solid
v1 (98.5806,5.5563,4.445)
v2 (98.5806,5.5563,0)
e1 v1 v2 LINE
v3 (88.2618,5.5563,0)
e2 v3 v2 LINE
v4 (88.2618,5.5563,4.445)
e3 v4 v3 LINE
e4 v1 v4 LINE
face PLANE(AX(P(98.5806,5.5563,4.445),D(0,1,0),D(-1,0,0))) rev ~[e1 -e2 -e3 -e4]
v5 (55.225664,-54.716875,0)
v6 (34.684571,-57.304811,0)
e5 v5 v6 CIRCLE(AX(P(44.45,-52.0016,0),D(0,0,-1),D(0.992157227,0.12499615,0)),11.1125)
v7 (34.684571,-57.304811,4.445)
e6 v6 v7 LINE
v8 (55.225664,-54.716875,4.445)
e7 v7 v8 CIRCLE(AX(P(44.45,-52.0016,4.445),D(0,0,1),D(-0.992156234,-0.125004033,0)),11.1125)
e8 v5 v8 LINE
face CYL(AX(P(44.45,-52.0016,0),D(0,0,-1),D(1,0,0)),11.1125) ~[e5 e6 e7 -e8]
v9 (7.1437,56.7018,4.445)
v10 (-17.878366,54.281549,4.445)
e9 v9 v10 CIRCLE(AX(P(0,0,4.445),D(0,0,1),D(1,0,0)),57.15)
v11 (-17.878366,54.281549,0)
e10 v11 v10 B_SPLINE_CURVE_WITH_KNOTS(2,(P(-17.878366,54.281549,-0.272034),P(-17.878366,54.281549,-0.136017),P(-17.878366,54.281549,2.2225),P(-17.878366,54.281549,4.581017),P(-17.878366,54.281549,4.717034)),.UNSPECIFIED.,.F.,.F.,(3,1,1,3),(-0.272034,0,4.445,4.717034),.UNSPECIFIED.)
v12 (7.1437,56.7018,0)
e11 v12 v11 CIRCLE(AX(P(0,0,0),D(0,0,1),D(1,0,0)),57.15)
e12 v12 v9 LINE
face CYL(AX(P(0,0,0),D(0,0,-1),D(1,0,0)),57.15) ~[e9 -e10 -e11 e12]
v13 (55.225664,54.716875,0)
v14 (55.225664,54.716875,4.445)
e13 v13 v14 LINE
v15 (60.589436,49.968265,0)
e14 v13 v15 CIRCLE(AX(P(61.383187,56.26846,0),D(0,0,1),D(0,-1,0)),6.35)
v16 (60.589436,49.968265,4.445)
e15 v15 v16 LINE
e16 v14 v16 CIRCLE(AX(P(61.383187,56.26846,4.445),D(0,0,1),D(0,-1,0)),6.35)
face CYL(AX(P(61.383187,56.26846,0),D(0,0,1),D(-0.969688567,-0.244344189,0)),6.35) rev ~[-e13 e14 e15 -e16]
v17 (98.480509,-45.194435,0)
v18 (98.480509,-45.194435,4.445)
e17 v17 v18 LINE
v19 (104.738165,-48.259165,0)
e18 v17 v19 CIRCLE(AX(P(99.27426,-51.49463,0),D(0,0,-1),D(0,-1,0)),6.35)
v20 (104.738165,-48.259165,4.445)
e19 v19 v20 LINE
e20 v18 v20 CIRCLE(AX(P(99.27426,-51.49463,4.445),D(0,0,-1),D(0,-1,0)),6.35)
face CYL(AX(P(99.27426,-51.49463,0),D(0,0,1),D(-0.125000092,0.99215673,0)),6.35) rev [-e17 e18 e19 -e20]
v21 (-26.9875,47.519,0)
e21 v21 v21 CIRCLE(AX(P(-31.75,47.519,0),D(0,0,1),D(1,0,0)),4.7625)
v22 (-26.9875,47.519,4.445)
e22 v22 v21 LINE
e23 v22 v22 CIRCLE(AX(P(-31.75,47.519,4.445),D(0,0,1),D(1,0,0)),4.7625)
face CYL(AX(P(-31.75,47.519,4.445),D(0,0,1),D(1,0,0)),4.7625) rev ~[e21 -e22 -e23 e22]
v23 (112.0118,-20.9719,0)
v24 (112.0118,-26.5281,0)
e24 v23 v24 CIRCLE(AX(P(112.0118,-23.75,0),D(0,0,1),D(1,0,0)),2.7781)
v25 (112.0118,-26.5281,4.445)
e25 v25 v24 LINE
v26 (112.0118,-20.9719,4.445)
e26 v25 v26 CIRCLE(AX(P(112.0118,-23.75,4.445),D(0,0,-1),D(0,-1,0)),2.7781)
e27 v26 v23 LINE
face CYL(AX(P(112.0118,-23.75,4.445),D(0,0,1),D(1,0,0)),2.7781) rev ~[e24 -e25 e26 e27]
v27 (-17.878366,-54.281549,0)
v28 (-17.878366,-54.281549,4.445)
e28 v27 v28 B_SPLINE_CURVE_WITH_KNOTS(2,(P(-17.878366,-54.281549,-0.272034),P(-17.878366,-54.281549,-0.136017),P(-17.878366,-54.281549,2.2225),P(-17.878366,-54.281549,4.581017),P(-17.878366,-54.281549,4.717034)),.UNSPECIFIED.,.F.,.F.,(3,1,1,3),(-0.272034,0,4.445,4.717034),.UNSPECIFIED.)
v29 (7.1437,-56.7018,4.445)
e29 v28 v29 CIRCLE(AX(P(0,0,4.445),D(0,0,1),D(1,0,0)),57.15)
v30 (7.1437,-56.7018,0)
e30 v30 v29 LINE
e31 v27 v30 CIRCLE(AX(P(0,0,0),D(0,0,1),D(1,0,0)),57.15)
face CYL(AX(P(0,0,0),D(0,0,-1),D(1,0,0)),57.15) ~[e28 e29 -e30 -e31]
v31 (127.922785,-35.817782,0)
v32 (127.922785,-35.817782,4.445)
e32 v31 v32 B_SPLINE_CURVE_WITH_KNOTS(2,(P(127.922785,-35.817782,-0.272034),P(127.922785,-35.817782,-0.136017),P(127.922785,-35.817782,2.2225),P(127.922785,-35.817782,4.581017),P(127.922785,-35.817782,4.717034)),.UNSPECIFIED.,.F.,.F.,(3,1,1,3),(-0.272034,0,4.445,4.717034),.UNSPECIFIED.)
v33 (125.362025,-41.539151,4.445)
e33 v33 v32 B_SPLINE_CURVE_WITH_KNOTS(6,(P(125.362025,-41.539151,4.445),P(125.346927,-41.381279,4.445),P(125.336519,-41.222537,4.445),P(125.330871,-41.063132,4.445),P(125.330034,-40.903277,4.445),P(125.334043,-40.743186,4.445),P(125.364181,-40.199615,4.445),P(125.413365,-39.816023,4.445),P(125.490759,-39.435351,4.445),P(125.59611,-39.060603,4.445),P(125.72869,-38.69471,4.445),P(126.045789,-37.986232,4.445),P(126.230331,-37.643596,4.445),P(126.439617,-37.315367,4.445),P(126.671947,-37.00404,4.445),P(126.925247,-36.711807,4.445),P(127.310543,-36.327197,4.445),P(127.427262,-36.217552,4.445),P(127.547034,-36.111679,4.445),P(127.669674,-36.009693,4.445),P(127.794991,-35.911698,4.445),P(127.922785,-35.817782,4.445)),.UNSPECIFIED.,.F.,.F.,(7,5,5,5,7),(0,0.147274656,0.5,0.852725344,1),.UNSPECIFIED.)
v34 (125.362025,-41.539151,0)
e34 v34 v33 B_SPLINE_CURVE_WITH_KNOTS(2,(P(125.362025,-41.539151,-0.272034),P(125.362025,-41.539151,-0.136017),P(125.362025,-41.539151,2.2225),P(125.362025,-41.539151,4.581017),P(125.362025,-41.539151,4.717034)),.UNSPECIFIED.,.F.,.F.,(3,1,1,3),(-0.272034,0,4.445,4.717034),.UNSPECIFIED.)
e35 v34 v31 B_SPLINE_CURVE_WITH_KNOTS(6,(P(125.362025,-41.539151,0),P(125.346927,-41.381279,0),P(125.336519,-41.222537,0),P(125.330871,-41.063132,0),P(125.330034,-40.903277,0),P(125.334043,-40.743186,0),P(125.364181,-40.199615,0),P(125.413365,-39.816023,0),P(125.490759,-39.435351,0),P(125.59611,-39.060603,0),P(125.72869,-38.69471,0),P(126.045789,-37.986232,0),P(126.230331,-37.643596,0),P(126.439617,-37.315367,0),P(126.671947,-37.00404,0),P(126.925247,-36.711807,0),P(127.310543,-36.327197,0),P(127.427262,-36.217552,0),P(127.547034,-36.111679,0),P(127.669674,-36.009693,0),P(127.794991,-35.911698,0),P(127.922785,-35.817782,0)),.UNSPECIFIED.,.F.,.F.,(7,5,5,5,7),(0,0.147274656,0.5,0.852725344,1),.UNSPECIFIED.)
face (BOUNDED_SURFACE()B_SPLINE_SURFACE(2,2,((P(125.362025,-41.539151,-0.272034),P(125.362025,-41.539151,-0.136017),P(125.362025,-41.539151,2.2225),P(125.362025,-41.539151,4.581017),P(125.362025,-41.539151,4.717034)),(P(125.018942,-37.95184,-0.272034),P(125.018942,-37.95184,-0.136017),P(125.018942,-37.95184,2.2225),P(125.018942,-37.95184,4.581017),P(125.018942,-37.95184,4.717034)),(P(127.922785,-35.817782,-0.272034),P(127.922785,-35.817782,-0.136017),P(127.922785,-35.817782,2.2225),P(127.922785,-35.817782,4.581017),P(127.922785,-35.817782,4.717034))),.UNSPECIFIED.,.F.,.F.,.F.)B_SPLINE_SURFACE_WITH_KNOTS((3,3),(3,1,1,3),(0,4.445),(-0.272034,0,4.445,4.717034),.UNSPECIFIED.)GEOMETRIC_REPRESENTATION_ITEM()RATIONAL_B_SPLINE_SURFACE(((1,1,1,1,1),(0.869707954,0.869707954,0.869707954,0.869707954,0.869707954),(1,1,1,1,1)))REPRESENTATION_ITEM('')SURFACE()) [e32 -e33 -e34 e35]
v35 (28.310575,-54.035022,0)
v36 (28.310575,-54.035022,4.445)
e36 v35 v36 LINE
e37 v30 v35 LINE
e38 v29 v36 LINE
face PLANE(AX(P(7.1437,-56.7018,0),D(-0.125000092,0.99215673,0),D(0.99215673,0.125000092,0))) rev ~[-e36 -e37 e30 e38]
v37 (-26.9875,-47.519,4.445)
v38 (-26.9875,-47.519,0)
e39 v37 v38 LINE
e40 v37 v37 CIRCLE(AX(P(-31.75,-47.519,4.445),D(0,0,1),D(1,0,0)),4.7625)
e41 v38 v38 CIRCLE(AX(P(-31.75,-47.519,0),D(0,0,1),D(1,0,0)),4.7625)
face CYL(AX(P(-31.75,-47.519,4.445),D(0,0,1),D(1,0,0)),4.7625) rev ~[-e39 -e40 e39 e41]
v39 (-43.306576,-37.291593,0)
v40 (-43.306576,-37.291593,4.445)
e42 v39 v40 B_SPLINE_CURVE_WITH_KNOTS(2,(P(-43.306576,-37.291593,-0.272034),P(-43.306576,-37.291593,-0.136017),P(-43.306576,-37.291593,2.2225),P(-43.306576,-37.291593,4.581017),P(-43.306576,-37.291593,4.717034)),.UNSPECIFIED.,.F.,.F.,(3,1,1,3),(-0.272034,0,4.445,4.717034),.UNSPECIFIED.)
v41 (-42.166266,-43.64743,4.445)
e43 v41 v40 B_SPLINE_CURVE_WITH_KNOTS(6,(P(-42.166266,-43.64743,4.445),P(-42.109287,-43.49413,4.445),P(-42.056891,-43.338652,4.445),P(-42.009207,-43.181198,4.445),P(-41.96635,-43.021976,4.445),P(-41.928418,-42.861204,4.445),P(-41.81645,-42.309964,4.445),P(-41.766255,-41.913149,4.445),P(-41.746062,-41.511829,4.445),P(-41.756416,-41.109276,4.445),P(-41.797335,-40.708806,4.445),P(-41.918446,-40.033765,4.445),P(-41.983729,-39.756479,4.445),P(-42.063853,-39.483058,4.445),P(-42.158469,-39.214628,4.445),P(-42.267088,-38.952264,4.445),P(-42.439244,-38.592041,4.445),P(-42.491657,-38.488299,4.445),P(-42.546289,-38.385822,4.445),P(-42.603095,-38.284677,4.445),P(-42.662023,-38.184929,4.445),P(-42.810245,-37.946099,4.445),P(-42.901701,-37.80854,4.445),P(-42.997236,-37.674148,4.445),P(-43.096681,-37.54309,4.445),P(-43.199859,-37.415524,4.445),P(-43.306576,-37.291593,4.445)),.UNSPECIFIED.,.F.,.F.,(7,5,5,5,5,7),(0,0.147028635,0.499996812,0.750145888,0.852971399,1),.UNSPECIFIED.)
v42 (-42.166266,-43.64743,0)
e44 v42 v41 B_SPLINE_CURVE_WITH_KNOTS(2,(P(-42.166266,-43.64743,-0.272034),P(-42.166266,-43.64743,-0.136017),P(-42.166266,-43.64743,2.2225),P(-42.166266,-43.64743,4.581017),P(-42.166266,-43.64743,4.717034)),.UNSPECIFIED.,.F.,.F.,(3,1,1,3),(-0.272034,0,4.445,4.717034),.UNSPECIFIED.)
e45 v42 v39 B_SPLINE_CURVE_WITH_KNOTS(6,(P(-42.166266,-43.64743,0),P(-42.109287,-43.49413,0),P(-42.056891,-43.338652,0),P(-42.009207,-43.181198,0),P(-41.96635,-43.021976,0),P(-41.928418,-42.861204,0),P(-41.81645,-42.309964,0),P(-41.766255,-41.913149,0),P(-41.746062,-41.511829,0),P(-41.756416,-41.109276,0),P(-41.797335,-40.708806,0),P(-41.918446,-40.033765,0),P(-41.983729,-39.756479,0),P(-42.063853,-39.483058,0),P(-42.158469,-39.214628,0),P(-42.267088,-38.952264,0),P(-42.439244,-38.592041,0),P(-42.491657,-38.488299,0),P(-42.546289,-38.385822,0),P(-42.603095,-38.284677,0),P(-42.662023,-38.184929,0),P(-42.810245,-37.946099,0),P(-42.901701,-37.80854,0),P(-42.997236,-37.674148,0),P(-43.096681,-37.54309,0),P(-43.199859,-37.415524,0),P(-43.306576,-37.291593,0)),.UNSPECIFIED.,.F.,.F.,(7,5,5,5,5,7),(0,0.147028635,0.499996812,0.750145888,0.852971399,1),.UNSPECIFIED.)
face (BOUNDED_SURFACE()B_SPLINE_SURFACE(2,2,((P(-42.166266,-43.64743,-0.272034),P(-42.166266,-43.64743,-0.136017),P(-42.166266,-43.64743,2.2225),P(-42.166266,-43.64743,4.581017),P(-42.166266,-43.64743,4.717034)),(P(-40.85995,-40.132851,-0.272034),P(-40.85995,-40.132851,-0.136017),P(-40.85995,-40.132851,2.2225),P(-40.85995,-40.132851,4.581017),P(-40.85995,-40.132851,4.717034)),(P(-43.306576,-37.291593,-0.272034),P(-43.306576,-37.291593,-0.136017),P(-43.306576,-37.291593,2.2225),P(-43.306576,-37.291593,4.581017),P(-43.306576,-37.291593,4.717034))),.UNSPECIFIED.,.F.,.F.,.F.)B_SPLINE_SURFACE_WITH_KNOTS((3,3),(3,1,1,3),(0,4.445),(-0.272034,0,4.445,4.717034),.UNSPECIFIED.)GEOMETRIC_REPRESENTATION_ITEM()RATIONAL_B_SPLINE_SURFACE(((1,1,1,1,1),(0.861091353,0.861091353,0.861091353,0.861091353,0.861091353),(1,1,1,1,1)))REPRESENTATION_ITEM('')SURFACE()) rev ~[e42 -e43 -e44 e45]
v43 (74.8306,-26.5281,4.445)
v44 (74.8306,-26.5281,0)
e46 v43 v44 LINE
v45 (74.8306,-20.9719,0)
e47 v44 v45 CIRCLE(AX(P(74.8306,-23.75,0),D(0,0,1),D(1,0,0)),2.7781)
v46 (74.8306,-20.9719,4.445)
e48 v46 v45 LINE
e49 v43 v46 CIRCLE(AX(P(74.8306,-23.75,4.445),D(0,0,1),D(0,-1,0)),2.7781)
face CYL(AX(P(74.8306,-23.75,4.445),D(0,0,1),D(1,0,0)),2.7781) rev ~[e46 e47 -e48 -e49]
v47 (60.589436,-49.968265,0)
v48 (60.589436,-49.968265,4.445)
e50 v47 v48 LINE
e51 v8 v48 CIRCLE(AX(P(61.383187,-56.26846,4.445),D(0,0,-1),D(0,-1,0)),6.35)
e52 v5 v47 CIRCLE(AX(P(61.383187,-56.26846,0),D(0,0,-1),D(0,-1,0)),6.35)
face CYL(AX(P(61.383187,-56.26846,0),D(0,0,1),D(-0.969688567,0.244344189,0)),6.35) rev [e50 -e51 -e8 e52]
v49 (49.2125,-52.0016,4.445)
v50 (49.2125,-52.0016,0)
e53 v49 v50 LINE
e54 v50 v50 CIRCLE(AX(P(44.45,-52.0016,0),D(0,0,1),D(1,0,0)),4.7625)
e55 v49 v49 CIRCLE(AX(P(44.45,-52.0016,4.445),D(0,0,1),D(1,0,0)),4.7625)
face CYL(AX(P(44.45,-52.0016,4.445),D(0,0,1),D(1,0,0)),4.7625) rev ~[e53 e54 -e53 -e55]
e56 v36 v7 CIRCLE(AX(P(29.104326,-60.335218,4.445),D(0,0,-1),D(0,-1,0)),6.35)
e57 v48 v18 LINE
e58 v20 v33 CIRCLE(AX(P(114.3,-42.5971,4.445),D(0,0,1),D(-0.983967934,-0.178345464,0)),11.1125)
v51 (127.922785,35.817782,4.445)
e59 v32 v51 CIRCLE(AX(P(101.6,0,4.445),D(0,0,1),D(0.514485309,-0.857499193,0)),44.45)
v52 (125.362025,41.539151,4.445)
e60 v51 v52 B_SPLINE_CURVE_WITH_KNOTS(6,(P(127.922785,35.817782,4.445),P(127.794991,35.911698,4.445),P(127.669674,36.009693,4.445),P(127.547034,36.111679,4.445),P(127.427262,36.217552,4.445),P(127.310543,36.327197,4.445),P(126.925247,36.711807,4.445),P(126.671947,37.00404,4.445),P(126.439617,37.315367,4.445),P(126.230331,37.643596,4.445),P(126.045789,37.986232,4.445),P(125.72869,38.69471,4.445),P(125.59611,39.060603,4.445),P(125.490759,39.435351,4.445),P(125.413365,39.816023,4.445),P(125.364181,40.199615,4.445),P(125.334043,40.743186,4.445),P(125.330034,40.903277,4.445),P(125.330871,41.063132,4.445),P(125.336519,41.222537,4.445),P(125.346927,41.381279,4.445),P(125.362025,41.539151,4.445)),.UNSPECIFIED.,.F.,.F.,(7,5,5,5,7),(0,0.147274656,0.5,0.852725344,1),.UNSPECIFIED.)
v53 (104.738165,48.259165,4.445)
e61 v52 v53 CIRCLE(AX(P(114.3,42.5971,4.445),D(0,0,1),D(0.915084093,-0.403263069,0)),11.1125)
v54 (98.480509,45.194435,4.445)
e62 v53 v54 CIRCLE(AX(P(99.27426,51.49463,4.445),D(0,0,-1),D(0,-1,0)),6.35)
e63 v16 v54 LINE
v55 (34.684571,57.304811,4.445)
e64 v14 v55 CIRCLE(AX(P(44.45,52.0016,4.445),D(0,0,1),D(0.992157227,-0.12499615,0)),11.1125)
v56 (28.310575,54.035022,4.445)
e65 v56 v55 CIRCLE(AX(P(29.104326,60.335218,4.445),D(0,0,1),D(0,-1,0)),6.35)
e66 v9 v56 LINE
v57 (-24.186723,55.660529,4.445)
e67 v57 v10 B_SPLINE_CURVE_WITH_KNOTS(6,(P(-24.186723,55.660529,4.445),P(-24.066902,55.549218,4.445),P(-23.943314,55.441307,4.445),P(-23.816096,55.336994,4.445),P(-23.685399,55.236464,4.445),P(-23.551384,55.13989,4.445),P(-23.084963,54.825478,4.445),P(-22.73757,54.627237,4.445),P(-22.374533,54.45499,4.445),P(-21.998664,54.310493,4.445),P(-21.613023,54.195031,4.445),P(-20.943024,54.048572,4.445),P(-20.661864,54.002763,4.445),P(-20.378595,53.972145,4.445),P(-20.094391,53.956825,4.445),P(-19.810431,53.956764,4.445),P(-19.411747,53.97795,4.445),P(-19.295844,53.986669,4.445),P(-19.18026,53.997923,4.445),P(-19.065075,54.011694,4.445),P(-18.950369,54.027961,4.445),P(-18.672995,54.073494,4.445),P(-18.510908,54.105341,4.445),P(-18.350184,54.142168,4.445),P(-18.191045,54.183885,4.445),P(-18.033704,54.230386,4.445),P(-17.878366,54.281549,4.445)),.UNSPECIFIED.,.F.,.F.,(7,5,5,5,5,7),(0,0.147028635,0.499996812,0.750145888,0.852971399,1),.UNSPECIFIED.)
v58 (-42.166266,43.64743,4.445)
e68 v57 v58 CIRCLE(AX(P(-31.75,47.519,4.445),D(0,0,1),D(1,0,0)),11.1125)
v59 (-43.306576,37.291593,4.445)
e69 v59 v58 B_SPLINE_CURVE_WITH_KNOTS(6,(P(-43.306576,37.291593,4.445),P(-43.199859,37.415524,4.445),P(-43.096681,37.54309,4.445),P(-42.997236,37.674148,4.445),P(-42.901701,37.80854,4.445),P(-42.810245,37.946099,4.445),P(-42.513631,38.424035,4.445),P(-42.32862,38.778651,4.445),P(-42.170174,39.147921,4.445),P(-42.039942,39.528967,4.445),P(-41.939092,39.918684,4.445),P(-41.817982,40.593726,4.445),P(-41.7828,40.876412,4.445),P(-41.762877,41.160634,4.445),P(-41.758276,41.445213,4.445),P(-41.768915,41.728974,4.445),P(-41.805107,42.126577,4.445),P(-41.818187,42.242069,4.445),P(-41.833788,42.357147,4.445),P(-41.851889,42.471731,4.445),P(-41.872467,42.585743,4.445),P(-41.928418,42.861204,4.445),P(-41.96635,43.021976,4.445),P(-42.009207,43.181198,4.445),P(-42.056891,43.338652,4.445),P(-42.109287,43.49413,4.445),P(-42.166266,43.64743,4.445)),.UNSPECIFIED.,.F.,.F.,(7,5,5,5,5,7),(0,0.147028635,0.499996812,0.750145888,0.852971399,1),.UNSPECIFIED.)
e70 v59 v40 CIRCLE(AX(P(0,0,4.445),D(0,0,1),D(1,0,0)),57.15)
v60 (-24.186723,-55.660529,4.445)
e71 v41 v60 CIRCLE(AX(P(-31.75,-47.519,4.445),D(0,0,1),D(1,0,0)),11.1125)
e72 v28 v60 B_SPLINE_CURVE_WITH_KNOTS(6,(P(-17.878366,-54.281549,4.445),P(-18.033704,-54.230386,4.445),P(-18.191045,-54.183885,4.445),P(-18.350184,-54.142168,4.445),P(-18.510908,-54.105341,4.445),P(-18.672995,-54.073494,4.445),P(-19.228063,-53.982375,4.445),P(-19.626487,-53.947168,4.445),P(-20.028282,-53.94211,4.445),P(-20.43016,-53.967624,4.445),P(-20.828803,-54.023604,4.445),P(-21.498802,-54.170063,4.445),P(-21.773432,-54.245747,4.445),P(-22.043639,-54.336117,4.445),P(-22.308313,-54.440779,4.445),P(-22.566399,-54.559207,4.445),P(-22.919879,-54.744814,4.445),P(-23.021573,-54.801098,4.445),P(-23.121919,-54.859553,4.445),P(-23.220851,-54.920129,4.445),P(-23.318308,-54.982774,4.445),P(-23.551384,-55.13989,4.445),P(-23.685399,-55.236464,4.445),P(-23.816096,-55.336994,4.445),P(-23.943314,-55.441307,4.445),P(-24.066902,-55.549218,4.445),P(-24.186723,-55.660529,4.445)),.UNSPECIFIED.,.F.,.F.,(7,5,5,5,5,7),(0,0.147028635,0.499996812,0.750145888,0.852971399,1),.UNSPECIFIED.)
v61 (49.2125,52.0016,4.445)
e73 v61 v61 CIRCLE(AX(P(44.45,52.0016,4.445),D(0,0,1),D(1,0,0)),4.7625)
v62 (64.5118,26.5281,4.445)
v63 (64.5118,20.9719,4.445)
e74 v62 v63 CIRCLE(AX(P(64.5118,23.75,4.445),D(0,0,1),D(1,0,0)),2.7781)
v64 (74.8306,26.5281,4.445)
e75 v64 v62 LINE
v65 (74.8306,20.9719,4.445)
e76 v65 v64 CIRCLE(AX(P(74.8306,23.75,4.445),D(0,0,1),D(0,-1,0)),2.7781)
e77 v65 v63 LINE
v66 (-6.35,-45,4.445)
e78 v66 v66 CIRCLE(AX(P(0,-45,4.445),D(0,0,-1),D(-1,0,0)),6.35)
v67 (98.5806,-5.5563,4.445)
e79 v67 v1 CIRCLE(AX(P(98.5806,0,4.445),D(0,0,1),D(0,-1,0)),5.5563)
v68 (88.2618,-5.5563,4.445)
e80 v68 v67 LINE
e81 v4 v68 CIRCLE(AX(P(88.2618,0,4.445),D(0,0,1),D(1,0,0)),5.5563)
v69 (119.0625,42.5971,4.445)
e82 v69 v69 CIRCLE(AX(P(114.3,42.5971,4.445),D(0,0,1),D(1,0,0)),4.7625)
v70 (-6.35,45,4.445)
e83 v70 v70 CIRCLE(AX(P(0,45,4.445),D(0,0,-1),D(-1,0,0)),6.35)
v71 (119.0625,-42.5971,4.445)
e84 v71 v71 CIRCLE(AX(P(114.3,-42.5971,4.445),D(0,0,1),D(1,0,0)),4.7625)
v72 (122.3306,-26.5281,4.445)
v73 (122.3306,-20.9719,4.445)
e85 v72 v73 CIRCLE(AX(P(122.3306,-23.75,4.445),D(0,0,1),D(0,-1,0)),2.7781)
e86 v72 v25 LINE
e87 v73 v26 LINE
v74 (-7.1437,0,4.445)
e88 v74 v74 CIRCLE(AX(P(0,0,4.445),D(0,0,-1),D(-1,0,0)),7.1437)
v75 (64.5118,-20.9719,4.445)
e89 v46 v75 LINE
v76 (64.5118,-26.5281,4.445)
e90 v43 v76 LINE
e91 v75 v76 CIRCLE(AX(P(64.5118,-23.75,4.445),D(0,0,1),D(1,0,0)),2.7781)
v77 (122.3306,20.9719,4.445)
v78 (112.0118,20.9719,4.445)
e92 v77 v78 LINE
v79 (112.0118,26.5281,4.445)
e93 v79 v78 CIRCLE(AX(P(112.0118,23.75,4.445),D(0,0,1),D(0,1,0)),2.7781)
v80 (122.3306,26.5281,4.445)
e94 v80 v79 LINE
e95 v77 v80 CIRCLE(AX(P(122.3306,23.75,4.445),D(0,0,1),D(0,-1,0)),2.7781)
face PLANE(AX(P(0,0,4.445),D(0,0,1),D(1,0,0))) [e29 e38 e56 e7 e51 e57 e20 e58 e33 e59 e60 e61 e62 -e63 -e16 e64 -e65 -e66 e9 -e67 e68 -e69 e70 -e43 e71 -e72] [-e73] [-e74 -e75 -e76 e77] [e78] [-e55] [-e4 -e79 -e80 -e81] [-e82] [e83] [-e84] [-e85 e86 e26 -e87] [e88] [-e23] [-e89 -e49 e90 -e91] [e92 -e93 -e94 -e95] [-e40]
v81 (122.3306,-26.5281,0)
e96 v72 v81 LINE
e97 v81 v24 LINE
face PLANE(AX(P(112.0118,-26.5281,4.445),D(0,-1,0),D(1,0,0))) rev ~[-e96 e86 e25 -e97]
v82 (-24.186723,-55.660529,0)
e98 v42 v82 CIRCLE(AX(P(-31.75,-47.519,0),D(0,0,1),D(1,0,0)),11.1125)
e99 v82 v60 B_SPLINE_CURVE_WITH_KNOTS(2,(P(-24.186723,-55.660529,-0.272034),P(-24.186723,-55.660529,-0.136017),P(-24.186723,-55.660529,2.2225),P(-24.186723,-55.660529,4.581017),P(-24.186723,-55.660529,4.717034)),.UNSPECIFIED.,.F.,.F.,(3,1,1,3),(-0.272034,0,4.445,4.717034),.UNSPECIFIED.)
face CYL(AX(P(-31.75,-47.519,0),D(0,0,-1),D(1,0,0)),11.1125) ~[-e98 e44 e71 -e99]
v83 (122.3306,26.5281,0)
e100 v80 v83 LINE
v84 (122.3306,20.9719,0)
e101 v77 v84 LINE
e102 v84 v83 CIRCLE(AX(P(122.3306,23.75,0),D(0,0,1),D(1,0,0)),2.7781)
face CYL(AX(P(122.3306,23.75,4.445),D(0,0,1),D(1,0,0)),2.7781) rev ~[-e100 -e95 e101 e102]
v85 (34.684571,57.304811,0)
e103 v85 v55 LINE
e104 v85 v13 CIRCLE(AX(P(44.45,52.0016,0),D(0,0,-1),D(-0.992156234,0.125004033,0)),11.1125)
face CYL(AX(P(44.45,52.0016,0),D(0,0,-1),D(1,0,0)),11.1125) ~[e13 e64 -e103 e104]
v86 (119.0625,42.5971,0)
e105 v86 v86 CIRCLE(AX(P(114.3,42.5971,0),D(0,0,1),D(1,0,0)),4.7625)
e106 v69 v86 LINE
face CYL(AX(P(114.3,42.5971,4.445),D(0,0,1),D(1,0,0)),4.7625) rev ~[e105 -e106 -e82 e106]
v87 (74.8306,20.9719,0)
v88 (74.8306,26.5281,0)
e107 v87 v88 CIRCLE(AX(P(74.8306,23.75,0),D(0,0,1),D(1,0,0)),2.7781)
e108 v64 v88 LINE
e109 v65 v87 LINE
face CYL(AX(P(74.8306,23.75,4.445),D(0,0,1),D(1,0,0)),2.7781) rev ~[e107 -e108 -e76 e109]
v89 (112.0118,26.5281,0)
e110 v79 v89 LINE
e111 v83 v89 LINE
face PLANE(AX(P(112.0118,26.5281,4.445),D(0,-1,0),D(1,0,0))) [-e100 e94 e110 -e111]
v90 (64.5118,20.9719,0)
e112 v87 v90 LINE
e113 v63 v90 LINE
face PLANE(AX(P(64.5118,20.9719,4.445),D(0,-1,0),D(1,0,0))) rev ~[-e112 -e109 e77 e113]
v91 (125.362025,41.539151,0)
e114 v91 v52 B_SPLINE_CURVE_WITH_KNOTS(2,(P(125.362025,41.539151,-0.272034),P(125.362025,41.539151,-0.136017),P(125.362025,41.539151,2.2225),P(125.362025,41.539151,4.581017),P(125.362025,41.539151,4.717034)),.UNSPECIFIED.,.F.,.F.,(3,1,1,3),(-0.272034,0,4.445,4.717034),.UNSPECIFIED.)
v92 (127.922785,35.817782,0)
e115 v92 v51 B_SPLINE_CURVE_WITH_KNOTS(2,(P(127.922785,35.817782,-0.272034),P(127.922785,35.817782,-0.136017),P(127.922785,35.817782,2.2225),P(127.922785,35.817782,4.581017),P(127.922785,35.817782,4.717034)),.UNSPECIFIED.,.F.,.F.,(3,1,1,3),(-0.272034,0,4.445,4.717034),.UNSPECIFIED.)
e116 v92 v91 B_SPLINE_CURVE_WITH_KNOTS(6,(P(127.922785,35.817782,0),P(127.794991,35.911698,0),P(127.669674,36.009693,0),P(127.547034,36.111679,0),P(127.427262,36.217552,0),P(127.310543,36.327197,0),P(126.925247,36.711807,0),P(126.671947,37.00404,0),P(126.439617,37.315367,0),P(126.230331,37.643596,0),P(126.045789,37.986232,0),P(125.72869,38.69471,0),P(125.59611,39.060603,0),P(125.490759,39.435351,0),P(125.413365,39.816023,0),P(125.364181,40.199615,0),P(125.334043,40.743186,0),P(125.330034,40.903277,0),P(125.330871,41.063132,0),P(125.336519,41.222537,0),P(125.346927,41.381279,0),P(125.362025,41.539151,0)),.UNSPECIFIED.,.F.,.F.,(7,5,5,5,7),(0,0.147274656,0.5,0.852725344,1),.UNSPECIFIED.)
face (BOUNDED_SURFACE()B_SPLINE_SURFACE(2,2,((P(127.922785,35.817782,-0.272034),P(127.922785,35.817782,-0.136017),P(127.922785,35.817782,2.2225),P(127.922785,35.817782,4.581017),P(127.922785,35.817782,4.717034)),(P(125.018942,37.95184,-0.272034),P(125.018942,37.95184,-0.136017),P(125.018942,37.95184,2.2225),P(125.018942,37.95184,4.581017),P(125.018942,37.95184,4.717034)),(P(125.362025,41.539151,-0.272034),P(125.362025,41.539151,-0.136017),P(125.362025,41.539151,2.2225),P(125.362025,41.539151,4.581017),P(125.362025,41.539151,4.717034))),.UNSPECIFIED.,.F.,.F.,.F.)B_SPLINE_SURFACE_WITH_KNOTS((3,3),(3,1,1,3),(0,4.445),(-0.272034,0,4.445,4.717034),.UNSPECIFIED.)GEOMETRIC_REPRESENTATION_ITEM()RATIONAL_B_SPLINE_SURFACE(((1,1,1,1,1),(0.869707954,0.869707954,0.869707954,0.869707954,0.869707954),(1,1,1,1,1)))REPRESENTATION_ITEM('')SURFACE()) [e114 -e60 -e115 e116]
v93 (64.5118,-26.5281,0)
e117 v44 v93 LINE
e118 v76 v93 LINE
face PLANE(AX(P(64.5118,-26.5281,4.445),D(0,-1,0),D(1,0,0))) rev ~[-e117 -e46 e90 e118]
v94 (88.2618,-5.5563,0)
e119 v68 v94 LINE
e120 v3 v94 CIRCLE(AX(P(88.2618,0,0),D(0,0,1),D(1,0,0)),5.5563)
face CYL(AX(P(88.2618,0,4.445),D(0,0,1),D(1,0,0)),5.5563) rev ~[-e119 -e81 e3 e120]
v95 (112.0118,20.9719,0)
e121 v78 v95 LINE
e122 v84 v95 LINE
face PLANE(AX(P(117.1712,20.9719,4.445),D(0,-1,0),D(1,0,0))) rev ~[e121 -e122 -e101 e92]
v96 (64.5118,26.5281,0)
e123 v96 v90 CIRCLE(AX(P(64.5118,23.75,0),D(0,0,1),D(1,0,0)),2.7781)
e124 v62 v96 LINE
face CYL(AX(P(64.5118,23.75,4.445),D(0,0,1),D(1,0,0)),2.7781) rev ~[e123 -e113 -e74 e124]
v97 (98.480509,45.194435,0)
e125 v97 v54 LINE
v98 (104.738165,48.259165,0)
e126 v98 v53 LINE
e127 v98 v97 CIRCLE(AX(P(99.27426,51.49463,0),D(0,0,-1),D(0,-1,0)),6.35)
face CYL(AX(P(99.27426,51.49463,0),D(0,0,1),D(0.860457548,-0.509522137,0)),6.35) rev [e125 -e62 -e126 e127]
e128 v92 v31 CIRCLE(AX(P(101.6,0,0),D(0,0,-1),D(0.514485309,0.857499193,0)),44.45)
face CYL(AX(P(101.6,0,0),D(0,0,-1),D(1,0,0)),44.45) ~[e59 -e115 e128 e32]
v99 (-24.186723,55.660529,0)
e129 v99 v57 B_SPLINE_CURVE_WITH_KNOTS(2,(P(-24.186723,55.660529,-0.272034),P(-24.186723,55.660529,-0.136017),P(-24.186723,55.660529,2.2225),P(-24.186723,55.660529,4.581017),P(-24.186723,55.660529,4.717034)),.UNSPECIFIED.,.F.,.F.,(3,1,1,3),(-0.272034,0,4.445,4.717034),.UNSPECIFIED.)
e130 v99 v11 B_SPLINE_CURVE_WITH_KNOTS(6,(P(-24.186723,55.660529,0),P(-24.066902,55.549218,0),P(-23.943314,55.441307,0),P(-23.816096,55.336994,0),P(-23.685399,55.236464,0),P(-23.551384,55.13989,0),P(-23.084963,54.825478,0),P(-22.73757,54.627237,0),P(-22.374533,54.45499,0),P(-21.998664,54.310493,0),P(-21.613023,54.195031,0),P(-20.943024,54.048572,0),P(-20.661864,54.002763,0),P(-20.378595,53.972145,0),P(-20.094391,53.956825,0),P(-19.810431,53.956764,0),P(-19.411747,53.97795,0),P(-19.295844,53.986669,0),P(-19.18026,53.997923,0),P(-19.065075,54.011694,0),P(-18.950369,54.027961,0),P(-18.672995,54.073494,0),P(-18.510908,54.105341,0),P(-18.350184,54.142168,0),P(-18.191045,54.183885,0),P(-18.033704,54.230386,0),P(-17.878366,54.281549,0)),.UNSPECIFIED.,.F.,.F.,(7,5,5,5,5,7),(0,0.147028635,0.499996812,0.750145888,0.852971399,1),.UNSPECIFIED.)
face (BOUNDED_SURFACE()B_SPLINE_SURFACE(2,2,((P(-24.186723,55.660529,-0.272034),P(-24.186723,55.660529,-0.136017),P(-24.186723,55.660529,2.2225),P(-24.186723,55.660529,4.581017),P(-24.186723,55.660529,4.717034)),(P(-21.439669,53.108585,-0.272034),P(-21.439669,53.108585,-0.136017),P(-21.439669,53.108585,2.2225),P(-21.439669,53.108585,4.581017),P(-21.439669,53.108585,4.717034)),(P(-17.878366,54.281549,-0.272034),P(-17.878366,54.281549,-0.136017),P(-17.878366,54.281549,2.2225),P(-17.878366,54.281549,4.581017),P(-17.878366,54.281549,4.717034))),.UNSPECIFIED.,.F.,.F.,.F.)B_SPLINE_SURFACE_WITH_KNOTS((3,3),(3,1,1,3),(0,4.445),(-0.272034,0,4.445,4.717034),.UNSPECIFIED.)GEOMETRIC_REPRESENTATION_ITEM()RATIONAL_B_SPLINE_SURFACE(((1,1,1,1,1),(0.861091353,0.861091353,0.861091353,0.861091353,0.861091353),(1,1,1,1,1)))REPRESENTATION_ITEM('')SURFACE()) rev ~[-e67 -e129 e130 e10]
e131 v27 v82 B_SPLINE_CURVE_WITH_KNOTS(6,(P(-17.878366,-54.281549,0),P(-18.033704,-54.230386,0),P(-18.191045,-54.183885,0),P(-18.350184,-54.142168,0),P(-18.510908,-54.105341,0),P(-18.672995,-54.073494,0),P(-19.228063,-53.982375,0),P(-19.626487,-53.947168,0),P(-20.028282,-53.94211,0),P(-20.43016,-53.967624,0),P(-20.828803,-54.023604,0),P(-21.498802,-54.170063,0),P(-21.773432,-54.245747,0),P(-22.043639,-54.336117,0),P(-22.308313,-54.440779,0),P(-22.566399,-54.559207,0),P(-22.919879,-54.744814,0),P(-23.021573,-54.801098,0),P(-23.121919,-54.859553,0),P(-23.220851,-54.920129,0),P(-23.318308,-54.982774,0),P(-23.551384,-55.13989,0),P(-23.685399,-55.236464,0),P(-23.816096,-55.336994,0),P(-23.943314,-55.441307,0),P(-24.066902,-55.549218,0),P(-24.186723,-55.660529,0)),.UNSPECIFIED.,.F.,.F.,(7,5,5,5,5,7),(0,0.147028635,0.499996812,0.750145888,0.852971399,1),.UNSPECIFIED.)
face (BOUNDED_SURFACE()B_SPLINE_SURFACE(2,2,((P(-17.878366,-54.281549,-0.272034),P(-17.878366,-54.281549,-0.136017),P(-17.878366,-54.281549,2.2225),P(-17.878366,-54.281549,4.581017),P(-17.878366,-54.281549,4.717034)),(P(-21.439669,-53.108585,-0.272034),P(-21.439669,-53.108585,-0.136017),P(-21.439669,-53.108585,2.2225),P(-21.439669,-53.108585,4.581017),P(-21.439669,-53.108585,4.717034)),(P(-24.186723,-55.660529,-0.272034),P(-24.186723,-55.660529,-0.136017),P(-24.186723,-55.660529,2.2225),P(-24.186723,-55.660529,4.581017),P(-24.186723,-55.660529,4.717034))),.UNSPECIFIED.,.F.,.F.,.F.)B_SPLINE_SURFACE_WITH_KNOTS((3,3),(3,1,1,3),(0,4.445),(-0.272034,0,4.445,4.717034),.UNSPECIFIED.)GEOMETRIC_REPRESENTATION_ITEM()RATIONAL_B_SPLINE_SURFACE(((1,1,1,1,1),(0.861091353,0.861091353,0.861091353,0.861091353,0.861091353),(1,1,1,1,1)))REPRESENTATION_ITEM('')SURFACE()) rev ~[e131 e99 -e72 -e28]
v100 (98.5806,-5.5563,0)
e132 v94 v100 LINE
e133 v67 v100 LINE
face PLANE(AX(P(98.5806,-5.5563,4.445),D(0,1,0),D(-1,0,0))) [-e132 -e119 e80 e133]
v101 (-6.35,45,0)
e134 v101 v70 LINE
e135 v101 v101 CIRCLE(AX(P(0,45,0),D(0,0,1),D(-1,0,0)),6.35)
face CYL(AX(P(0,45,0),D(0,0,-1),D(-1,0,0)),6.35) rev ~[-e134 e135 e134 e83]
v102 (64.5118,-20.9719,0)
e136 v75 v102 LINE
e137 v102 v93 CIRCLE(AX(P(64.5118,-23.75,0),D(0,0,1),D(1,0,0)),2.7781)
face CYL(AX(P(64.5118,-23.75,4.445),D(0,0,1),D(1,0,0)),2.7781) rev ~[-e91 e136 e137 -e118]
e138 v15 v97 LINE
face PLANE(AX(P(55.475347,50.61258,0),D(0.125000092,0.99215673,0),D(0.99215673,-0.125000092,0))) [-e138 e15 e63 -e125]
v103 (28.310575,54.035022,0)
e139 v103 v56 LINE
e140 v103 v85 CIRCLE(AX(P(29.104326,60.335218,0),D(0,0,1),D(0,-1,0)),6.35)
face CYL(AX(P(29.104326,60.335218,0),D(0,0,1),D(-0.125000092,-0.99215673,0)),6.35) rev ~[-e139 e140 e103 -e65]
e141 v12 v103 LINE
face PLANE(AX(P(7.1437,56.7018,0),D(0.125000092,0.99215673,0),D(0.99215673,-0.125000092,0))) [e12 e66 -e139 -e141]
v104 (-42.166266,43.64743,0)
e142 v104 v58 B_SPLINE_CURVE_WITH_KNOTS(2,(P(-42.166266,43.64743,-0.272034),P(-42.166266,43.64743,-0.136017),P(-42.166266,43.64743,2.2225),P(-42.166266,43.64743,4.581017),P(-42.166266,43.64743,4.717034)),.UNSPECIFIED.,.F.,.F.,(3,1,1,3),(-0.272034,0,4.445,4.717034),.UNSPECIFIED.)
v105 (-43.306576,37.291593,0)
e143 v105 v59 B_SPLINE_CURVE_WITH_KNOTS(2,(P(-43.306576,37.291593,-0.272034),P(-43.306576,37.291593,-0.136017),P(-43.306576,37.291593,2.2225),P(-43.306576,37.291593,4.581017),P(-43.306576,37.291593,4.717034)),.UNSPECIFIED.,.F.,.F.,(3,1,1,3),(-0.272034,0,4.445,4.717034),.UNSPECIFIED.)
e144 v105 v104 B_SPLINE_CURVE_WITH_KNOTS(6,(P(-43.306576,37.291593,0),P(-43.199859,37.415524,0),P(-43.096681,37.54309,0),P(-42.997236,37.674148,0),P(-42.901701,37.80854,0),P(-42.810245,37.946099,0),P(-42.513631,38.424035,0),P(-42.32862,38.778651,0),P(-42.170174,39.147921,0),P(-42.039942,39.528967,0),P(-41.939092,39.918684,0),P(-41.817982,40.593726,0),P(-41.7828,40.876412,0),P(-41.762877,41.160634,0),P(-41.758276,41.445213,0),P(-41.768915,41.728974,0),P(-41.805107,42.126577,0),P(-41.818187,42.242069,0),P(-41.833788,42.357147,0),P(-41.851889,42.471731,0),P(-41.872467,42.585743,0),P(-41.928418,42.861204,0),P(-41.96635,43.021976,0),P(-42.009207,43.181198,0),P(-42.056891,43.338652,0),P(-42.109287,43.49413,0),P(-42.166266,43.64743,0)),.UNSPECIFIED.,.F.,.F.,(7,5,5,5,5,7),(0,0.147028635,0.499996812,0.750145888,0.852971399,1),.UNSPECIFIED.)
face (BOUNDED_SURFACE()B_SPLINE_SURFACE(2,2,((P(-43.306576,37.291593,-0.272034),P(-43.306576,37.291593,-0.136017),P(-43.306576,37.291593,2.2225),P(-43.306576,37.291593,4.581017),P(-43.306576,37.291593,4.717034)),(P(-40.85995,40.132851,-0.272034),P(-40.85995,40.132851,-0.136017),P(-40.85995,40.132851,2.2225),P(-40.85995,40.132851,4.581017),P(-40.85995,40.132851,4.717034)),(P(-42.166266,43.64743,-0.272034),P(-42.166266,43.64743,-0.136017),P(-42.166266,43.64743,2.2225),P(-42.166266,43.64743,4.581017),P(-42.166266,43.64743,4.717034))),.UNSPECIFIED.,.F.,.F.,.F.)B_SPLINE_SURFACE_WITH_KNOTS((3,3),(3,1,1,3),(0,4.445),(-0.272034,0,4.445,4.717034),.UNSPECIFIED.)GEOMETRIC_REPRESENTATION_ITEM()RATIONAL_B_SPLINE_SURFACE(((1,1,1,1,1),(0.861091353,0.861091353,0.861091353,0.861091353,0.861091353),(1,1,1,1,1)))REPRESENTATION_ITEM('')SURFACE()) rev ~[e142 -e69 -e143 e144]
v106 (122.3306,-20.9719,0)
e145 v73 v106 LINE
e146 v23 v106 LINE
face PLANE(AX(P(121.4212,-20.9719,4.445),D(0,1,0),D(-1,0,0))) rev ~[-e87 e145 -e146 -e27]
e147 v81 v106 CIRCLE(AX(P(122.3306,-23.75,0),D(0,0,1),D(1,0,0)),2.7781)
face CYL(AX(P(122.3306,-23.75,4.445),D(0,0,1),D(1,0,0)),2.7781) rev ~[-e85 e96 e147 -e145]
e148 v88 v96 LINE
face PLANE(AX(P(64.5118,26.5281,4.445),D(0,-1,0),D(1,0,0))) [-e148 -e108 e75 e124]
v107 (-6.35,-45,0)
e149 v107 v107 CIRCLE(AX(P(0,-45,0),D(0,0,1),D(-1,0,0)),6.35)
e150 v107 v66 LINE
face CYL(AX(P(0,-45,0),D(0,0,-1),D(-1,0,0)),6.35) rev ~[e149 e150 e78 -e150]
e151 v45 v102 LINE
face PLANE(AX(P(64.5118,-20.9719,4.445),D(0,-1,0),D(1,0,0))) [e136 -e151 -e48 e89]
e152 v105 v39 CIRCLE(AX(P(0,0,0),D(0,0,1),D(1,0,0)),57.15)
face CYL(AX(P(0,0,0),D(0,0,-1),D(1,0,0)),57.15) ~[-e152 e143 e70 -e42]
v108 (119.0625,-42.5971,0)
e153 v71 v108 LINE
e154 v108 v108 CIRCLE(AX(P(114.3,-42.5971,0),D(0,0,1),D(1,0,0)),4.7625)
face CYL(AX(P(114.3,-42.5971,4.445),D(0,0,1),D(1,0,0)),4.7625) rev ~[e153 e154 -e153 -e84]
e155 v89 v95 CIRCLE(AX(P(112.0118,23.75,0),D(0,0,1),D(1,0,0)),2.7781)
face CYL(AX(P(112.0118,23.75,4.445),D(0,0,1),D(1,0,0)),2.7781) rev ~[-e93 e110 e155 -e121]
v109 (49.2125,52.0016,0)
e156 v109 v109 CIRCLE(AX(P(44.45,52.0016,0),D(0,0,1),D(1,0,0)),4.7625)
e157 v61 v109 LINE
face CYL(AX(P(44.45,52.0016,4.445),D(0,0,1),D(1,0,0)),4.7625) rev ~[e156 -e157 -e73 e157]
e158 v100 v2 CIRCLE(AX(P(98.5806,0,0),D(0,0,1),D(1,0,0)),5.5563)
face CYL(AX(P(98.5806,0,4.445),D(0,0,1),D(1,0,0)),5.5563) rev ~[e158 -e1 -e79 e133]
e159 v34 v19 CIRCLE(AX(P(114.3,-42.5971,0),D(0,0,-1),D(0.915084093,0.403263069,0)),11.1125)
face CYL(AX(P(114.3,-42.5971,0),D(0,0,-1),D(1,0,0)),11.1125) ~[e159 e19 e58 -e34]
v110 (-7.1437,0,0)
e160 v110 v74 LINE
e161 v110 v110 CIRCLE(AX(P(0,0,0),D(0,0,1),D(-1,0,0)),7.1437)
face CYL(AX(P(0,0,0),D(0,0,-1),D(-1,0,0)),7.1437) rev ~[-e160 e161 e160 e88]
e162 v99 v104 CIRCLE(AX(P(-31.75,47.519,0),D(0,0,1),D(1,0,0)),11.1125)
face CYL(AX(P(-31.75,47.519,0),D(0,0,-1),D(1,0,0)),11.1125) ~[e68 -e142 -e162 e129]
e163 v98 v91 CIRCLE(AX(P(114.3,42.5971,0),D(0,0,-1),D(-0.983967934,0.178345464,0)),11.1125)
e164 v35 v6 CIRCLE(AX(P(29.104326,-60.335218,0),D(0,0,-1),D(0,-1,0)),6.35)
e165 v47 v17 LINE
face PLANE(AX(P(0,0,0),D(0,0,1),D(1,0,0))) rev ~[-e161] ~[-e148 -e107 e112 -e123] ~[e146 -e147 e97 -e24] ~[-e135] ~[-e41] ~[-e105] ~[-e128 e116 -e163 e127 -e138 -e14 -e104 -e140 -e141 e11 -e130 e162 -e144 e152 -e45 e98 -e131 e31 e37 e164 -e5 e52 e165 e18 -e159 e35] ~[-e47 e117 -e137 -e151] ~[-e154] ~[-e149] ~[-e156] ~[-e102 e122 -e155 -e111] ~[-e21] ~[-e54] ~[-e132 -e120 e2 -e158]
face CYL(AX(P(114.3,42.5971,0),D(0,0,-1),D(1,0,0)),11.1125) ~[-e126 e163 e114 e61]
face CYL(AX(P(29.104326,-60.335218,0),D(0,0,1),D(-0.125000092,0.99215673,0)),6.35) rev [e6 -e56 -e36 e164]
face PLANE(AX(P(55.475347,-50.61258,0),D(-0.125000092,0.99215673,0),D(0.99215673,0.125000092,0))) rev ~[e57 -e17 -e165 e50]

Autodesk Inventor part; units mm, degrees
ref_plane "YZ Plane" through (0, 0, 0) normal (1, 0, 0) x (0, 1, 0)
ref_plane "XZ Plane" through (0, 0, 0) normal (0, 1, 0) x (-1, 0, 0)
ref_plane "XY Plane" through (0, 0, 0) normal (0, 0, 1) x (1, 0, 0)
sketch "Boceto1" plane through (0, 0, 0) normal (0, 0, 1) x (1, 0, 0)
  circle A0 centre (0, 0) radius 57.15
  circle A1 centre (101.6, 0) radius 44.45
  circle A2 centre (-31.75, 47.519) radius 11.1125
  circle A3 centre (-31.75, -47.519) radius 11.1125
  circle A4 centre (114.3, 42.5971) radius 11.1125
  circle A5 centre (114.3, -42.5971) radius 11.1125
  line L0 (7.1437, 56.7018) -> (107.1562, 44.1014)
  circle A6 centre (44.45, 52.0016) radius 11.1125
  line L1 (7.1437, -56.7018) -> (107.1562, -44.1014)
  circle A7 centre (44.45, -52.0016) radius 11.1125
  dimension "d0" = 114.3
  dimension "d1" = 88.9
  dimension "d2" = 203.2
  dimension "d3" = 22.225
  dimension "d4" = 22.225
  dimension "d7" = 22.225
  dimension "d8" = 22.225
  dimension "d11" = 22.225
  dimension "d13" = 0
  dimension "d14" = 22.225
  dimension "d27" = 12.7
  dimension "d28" = 12.7
  dimension "d29" = 44.45
  dimension "d30" = 44.45
  dimension "d31" = 31.75
  dimension "d32" = 31.75
extrude "Extrusión1" add sketch "Boceto1" along normal blind 4.445
sketch "Boceto2" plane through (0, 0, 4.445) normal (0, 0, 1) x (1, 0, 0)
  arc A0 (-21.9537, 52.7651) -> (-40.3458, 40.4764) centre (-31.75, 47.519) ccw projected
  circle A1 centre (-31.75, 47.519) radius 4.7625
  arc A2 (-40.3458, -40.4764) -> (-21.9537, -52.7651) centre (-31.75, -47.519) ccw projected
  circle A3 centre (-31.75, -47.519) radius 4.7625
  arc A4 (33.4247, -53.3907) -> (55.4753, -50.6125) centre (44.45, -52.0016) ccw projected
  circle A5 centre (44.45, -52.0016) radius 4.7625
  arc A6 (55.4753, 50.6125) -> (33.4247, 53.3907) centre (44.45, 52.0016) ccw projected
  circle A7 centre (44.45, 52.0016) radius 4.7625
  arc A8 (124.4689, 38.1158) -> (103.3657, 44.5789) centre (114.3, 42.5971) ccw projected
  circle A9 centre (114.3, 42.5971) radius 4.7625
  arc A10 (103.3657, -44.5789) -> (124.4689, -38.1158) centre (114.3, -42.5971) ccw projected
  circle A11 centre (114.3, -42.5971) radius 4.7625
  point P0 (0, 0)
  dimension "d18" = 9.525
  dimension "d19" = 9.525
  dimension "d20" = 9.525
  dimension "d21" = 9.525
  dimension "d22" = 9.525
  dimension "d23" = 9.525
extrude "Extrusión2" cut sketch "Boceto2" against normal up to surface (4.445 mm away)
fillet "Empalme1" radius 6.35 12 edges at (-21.9537, -52.7651, 2.2225) (-40.3458, -40.4764, 2.2225) (33.4247, -53.3907, 2.2225) (55.4753, -50.6125, 2.2225) (124.4689, -38.1158, 2.2225) (-40.3458, 40.4764, 2.2225) (-21.9537, 52.7651, 2.2225) (33.4247, 53.3907, 2.2225) (55.4753, 50.6125, 2.2225) (103.3657, 44.5789, 2.2225) (124.4689, 38.1158, 2.2225) (103.3657, -44.5789, 2.2225)
sketch "Boceto3" plane through (0, 0, 0) normal (0, 0, -1) x (-1, 0, 0)
  circle A0 centre (0, 0) radius 7.1437
  circle A1 centre (0, -45) radius 6.35
  circle A2 centre (0, 45) radius 6.35
  line L0 (0, -45) -> (0, 0)
  line L1 (0, 0) -> (0, 45)
  dimension "d33" = 14.2875
  dimension "d34" = 12.7
  dimension "d35" = 12.7
  dimension "d36" = 45
  dimension "d37" = 45
extrude "Extrusión3" cut sketch "Boceto3" against normal up to surface (4.445 mm away)
sketch "Boceto4" plane through (0, 0, 4.445) normal (0, 0, 1) x (1, 0, 0)
  circle A0 centre (93.4212, 0) radius 5.5563
  line L0 (65.4212, -28) -> (121.4212, -28)
  line L1 (121.4212, -28) -> (121.4212, 28)
  line L2 (121.4212, 28) -> (65.4212, 28)
  line L3 (65.4212, 28) -> (65.4212, -28)
  line L4 (69.6712, -23.75) -> (117.1712, -23.75)
  line L5 (117.1712, -23.75) -> (117.1712, 23.75)
  line L6 (117.1712, 23.75) -> (69.6712, 23.75)
  line L7 (69.6712, 23.75) -> (69.6712, -23.75)
  circle A1 centre (74.8306, -23.75) radius 2.7781
  circle A2 centre (112.0118, -23.75) radius 2.7781
  circle A3 centre (122.3306, -23.75) radius 2.7781
  circle A4 centre (64.5118, -23.75) radius 2.7781
  line L8 (64.5118, -26.5281) -> (74.8306, -26.5281)
  line L9 (64.5118, -20.9719) -> (74.8306, -20.9719)
  line L10 (112.0118, -26.5281) -> (122.3306, -26.5281)
  line L11 (122.3306, -20.9719) -> (112.0118, -20.9719)
  circle A5 centre (74.8306, 23.75) radius 2.7781
  circle A6 centre (64.5118, 23.75) radius 2.7781
  line L12 (64.5118, 20.9719) -> (74.8306, 20.9719)
  line L13 (64.5118, 26.5281) -> (74.8306, 26.5281)
  circle A7 centre (112.0118, 23.75) radius 2.7781
  circle A8 centre (122.3306, 23.75) radius 2.7781
  line L14 (112.0118, 20.9719) -> (122.3306, 20.9719)
  line L15 (112.0118, 26.5281) -> (122.3306, 26.5281)
  circle A9 centre (98.5806, 0) radius 5.5563
  circle A10 centre (88.2618, 0) radius 5.5563
  line L16 (98.5806, 5.5563) -> (88.2618, 5.5563)
  line L17 (98.5806, -5.5563) -> (88.2618, -5.5563)
  point P0 (0, 0)
  dimension "d40" = 11.1125
  dimension "d41" = 56
  dimension "d42" = 56
  dimension "d43" = 28
  dimension "d44" = 28
  dimension "d45" = 0
  dimension "d46" = 93.4212
  dimension "d47" = 47.5
  dimension "d48" = 47.5
  dimension "d49" = 23.75
  dimension "d50" = 23.75
  dimension "d57" = 5.5563
  dimension "d58" = 5.1594
  dimension "d59" = 5.5563
  dimension "d60" = 5.5563
  dimension "d61" = 5.1594
  dimension "d62" = 5.1594
  dimension "d63" = 5.5563
  dimension "d64" = 5.1594
  dimension "d65" = 0
  dimension "d66" = 5.5563
  dimension "d67" = 5.5563
  dimension "d68" = 5.1594
  dimension "d69" = 5.1594
  dimension "d70" = 0
  dimension "d71" = 5.5563
  dimension "d72" = 5.5563
  dimension "d73" = 5.1594
  dimension "d74" = 5.1594
  dimension "d75" = 0
  dimension "d78" = 11.1125
  dimension "d79" = 11.1125
  dimension "d80" = 5.1594
  dimension "d81" = 5.1594
extrude "Extrusión4" cut sketch "Boceto4" against normal up to next contours A0 A9 A10 | A0 A9 | A9 A10 A0 | A0 L16 A9 | A9 L17 A0 | A0 A10 A9 | A0 A10 L16 | A10 A9 | A9 A10 A0 | L17 A10 A0 | A0 A10 | L8 A4 L3 | L3 A4 L9 L7 L4 A1 L8 | L10 A2 L4 L5 L11 L1 A3 | L1 A3 L10 | A4 L3 | L3 A4 | A1 L4 | A3 L1 | L1 A3 | A2 L4 | A4 L9 L3 | L4 A1 | L4 L7 L9 A1 | L1 L11 A3 | A2 L11 L5 L4 | L4 A2 | L12 A6 L3 | L3 A6 L13 A5 L6 L7 L12 | L14 L5 L6 A7 L15 L1 A8 | L1 A8 L14 | A6 L3 | L3 A6 | L7 L6 A5 L12 | A8 L1 | L1 A8 | L14 A7 L6 L5 | A6 L13 L3 | A5 L6 | L1 L15 A8 | A7 L6 | A5 L6 | L6 A7
equation "\"d16\" = t"
equation "\"d18\" = Q"
equation "\"d19\" = Q"
equation "\"d20\" = Q"
equation "\"d21\" = Q"
equation "\"d22\" = Q"
equation "\"d23\" = Q"
equation "\"d33\" = DF"
equation "\"d34\" = NF"
equation "\"d35\" = NF"
equation "\"d36\" = 0.5 * JF"
equation "\"d37\" = 0.5 * JF"
equation "\"d40\" = DM"
equation "\"d41\" = AM"
equation "\"d42\" = AM"
equation "\"d43\" = 0.5 * AM"
equation "\"d44\" = 0.5 * AM"
equation "\"d46\" = CM"
equation "\"d47\" = BM"
equation "\"d48\" = BM"
equation "\"d49\" = 0.5 * BM"
equation "\"d50\" = 0.5 * BM"
equation "\"d57\" = NM"
equation "\"d59\" = NM"
equation "\"d60\" = NM"
equation "\"d63\" = NM"
equation "\"d66\" = NM"
equation "\"d67\" = NM"
equation "\"d71\" = NM"
equation "\"d72\" = NM"
equation "\"d78\" = DM"
equation "\"d79\" = DM"
equation "\"t\" = 4.445"
equation "\"Q\" = 9.525"
equation "\"DF\" = 14.2875"
equation "\"NF\" = 12.7"
equation "\"DM\" = 11.1125"
equation "\"NM\" = 5.55625"
equation "\"CM\" = 93.4212"
equation "\"AM\" = 56"
equation "\"BM\" = 47.5"
equation "\"JF\" = 90"
properties part number "SIDE REDUCTION PLATE I"
